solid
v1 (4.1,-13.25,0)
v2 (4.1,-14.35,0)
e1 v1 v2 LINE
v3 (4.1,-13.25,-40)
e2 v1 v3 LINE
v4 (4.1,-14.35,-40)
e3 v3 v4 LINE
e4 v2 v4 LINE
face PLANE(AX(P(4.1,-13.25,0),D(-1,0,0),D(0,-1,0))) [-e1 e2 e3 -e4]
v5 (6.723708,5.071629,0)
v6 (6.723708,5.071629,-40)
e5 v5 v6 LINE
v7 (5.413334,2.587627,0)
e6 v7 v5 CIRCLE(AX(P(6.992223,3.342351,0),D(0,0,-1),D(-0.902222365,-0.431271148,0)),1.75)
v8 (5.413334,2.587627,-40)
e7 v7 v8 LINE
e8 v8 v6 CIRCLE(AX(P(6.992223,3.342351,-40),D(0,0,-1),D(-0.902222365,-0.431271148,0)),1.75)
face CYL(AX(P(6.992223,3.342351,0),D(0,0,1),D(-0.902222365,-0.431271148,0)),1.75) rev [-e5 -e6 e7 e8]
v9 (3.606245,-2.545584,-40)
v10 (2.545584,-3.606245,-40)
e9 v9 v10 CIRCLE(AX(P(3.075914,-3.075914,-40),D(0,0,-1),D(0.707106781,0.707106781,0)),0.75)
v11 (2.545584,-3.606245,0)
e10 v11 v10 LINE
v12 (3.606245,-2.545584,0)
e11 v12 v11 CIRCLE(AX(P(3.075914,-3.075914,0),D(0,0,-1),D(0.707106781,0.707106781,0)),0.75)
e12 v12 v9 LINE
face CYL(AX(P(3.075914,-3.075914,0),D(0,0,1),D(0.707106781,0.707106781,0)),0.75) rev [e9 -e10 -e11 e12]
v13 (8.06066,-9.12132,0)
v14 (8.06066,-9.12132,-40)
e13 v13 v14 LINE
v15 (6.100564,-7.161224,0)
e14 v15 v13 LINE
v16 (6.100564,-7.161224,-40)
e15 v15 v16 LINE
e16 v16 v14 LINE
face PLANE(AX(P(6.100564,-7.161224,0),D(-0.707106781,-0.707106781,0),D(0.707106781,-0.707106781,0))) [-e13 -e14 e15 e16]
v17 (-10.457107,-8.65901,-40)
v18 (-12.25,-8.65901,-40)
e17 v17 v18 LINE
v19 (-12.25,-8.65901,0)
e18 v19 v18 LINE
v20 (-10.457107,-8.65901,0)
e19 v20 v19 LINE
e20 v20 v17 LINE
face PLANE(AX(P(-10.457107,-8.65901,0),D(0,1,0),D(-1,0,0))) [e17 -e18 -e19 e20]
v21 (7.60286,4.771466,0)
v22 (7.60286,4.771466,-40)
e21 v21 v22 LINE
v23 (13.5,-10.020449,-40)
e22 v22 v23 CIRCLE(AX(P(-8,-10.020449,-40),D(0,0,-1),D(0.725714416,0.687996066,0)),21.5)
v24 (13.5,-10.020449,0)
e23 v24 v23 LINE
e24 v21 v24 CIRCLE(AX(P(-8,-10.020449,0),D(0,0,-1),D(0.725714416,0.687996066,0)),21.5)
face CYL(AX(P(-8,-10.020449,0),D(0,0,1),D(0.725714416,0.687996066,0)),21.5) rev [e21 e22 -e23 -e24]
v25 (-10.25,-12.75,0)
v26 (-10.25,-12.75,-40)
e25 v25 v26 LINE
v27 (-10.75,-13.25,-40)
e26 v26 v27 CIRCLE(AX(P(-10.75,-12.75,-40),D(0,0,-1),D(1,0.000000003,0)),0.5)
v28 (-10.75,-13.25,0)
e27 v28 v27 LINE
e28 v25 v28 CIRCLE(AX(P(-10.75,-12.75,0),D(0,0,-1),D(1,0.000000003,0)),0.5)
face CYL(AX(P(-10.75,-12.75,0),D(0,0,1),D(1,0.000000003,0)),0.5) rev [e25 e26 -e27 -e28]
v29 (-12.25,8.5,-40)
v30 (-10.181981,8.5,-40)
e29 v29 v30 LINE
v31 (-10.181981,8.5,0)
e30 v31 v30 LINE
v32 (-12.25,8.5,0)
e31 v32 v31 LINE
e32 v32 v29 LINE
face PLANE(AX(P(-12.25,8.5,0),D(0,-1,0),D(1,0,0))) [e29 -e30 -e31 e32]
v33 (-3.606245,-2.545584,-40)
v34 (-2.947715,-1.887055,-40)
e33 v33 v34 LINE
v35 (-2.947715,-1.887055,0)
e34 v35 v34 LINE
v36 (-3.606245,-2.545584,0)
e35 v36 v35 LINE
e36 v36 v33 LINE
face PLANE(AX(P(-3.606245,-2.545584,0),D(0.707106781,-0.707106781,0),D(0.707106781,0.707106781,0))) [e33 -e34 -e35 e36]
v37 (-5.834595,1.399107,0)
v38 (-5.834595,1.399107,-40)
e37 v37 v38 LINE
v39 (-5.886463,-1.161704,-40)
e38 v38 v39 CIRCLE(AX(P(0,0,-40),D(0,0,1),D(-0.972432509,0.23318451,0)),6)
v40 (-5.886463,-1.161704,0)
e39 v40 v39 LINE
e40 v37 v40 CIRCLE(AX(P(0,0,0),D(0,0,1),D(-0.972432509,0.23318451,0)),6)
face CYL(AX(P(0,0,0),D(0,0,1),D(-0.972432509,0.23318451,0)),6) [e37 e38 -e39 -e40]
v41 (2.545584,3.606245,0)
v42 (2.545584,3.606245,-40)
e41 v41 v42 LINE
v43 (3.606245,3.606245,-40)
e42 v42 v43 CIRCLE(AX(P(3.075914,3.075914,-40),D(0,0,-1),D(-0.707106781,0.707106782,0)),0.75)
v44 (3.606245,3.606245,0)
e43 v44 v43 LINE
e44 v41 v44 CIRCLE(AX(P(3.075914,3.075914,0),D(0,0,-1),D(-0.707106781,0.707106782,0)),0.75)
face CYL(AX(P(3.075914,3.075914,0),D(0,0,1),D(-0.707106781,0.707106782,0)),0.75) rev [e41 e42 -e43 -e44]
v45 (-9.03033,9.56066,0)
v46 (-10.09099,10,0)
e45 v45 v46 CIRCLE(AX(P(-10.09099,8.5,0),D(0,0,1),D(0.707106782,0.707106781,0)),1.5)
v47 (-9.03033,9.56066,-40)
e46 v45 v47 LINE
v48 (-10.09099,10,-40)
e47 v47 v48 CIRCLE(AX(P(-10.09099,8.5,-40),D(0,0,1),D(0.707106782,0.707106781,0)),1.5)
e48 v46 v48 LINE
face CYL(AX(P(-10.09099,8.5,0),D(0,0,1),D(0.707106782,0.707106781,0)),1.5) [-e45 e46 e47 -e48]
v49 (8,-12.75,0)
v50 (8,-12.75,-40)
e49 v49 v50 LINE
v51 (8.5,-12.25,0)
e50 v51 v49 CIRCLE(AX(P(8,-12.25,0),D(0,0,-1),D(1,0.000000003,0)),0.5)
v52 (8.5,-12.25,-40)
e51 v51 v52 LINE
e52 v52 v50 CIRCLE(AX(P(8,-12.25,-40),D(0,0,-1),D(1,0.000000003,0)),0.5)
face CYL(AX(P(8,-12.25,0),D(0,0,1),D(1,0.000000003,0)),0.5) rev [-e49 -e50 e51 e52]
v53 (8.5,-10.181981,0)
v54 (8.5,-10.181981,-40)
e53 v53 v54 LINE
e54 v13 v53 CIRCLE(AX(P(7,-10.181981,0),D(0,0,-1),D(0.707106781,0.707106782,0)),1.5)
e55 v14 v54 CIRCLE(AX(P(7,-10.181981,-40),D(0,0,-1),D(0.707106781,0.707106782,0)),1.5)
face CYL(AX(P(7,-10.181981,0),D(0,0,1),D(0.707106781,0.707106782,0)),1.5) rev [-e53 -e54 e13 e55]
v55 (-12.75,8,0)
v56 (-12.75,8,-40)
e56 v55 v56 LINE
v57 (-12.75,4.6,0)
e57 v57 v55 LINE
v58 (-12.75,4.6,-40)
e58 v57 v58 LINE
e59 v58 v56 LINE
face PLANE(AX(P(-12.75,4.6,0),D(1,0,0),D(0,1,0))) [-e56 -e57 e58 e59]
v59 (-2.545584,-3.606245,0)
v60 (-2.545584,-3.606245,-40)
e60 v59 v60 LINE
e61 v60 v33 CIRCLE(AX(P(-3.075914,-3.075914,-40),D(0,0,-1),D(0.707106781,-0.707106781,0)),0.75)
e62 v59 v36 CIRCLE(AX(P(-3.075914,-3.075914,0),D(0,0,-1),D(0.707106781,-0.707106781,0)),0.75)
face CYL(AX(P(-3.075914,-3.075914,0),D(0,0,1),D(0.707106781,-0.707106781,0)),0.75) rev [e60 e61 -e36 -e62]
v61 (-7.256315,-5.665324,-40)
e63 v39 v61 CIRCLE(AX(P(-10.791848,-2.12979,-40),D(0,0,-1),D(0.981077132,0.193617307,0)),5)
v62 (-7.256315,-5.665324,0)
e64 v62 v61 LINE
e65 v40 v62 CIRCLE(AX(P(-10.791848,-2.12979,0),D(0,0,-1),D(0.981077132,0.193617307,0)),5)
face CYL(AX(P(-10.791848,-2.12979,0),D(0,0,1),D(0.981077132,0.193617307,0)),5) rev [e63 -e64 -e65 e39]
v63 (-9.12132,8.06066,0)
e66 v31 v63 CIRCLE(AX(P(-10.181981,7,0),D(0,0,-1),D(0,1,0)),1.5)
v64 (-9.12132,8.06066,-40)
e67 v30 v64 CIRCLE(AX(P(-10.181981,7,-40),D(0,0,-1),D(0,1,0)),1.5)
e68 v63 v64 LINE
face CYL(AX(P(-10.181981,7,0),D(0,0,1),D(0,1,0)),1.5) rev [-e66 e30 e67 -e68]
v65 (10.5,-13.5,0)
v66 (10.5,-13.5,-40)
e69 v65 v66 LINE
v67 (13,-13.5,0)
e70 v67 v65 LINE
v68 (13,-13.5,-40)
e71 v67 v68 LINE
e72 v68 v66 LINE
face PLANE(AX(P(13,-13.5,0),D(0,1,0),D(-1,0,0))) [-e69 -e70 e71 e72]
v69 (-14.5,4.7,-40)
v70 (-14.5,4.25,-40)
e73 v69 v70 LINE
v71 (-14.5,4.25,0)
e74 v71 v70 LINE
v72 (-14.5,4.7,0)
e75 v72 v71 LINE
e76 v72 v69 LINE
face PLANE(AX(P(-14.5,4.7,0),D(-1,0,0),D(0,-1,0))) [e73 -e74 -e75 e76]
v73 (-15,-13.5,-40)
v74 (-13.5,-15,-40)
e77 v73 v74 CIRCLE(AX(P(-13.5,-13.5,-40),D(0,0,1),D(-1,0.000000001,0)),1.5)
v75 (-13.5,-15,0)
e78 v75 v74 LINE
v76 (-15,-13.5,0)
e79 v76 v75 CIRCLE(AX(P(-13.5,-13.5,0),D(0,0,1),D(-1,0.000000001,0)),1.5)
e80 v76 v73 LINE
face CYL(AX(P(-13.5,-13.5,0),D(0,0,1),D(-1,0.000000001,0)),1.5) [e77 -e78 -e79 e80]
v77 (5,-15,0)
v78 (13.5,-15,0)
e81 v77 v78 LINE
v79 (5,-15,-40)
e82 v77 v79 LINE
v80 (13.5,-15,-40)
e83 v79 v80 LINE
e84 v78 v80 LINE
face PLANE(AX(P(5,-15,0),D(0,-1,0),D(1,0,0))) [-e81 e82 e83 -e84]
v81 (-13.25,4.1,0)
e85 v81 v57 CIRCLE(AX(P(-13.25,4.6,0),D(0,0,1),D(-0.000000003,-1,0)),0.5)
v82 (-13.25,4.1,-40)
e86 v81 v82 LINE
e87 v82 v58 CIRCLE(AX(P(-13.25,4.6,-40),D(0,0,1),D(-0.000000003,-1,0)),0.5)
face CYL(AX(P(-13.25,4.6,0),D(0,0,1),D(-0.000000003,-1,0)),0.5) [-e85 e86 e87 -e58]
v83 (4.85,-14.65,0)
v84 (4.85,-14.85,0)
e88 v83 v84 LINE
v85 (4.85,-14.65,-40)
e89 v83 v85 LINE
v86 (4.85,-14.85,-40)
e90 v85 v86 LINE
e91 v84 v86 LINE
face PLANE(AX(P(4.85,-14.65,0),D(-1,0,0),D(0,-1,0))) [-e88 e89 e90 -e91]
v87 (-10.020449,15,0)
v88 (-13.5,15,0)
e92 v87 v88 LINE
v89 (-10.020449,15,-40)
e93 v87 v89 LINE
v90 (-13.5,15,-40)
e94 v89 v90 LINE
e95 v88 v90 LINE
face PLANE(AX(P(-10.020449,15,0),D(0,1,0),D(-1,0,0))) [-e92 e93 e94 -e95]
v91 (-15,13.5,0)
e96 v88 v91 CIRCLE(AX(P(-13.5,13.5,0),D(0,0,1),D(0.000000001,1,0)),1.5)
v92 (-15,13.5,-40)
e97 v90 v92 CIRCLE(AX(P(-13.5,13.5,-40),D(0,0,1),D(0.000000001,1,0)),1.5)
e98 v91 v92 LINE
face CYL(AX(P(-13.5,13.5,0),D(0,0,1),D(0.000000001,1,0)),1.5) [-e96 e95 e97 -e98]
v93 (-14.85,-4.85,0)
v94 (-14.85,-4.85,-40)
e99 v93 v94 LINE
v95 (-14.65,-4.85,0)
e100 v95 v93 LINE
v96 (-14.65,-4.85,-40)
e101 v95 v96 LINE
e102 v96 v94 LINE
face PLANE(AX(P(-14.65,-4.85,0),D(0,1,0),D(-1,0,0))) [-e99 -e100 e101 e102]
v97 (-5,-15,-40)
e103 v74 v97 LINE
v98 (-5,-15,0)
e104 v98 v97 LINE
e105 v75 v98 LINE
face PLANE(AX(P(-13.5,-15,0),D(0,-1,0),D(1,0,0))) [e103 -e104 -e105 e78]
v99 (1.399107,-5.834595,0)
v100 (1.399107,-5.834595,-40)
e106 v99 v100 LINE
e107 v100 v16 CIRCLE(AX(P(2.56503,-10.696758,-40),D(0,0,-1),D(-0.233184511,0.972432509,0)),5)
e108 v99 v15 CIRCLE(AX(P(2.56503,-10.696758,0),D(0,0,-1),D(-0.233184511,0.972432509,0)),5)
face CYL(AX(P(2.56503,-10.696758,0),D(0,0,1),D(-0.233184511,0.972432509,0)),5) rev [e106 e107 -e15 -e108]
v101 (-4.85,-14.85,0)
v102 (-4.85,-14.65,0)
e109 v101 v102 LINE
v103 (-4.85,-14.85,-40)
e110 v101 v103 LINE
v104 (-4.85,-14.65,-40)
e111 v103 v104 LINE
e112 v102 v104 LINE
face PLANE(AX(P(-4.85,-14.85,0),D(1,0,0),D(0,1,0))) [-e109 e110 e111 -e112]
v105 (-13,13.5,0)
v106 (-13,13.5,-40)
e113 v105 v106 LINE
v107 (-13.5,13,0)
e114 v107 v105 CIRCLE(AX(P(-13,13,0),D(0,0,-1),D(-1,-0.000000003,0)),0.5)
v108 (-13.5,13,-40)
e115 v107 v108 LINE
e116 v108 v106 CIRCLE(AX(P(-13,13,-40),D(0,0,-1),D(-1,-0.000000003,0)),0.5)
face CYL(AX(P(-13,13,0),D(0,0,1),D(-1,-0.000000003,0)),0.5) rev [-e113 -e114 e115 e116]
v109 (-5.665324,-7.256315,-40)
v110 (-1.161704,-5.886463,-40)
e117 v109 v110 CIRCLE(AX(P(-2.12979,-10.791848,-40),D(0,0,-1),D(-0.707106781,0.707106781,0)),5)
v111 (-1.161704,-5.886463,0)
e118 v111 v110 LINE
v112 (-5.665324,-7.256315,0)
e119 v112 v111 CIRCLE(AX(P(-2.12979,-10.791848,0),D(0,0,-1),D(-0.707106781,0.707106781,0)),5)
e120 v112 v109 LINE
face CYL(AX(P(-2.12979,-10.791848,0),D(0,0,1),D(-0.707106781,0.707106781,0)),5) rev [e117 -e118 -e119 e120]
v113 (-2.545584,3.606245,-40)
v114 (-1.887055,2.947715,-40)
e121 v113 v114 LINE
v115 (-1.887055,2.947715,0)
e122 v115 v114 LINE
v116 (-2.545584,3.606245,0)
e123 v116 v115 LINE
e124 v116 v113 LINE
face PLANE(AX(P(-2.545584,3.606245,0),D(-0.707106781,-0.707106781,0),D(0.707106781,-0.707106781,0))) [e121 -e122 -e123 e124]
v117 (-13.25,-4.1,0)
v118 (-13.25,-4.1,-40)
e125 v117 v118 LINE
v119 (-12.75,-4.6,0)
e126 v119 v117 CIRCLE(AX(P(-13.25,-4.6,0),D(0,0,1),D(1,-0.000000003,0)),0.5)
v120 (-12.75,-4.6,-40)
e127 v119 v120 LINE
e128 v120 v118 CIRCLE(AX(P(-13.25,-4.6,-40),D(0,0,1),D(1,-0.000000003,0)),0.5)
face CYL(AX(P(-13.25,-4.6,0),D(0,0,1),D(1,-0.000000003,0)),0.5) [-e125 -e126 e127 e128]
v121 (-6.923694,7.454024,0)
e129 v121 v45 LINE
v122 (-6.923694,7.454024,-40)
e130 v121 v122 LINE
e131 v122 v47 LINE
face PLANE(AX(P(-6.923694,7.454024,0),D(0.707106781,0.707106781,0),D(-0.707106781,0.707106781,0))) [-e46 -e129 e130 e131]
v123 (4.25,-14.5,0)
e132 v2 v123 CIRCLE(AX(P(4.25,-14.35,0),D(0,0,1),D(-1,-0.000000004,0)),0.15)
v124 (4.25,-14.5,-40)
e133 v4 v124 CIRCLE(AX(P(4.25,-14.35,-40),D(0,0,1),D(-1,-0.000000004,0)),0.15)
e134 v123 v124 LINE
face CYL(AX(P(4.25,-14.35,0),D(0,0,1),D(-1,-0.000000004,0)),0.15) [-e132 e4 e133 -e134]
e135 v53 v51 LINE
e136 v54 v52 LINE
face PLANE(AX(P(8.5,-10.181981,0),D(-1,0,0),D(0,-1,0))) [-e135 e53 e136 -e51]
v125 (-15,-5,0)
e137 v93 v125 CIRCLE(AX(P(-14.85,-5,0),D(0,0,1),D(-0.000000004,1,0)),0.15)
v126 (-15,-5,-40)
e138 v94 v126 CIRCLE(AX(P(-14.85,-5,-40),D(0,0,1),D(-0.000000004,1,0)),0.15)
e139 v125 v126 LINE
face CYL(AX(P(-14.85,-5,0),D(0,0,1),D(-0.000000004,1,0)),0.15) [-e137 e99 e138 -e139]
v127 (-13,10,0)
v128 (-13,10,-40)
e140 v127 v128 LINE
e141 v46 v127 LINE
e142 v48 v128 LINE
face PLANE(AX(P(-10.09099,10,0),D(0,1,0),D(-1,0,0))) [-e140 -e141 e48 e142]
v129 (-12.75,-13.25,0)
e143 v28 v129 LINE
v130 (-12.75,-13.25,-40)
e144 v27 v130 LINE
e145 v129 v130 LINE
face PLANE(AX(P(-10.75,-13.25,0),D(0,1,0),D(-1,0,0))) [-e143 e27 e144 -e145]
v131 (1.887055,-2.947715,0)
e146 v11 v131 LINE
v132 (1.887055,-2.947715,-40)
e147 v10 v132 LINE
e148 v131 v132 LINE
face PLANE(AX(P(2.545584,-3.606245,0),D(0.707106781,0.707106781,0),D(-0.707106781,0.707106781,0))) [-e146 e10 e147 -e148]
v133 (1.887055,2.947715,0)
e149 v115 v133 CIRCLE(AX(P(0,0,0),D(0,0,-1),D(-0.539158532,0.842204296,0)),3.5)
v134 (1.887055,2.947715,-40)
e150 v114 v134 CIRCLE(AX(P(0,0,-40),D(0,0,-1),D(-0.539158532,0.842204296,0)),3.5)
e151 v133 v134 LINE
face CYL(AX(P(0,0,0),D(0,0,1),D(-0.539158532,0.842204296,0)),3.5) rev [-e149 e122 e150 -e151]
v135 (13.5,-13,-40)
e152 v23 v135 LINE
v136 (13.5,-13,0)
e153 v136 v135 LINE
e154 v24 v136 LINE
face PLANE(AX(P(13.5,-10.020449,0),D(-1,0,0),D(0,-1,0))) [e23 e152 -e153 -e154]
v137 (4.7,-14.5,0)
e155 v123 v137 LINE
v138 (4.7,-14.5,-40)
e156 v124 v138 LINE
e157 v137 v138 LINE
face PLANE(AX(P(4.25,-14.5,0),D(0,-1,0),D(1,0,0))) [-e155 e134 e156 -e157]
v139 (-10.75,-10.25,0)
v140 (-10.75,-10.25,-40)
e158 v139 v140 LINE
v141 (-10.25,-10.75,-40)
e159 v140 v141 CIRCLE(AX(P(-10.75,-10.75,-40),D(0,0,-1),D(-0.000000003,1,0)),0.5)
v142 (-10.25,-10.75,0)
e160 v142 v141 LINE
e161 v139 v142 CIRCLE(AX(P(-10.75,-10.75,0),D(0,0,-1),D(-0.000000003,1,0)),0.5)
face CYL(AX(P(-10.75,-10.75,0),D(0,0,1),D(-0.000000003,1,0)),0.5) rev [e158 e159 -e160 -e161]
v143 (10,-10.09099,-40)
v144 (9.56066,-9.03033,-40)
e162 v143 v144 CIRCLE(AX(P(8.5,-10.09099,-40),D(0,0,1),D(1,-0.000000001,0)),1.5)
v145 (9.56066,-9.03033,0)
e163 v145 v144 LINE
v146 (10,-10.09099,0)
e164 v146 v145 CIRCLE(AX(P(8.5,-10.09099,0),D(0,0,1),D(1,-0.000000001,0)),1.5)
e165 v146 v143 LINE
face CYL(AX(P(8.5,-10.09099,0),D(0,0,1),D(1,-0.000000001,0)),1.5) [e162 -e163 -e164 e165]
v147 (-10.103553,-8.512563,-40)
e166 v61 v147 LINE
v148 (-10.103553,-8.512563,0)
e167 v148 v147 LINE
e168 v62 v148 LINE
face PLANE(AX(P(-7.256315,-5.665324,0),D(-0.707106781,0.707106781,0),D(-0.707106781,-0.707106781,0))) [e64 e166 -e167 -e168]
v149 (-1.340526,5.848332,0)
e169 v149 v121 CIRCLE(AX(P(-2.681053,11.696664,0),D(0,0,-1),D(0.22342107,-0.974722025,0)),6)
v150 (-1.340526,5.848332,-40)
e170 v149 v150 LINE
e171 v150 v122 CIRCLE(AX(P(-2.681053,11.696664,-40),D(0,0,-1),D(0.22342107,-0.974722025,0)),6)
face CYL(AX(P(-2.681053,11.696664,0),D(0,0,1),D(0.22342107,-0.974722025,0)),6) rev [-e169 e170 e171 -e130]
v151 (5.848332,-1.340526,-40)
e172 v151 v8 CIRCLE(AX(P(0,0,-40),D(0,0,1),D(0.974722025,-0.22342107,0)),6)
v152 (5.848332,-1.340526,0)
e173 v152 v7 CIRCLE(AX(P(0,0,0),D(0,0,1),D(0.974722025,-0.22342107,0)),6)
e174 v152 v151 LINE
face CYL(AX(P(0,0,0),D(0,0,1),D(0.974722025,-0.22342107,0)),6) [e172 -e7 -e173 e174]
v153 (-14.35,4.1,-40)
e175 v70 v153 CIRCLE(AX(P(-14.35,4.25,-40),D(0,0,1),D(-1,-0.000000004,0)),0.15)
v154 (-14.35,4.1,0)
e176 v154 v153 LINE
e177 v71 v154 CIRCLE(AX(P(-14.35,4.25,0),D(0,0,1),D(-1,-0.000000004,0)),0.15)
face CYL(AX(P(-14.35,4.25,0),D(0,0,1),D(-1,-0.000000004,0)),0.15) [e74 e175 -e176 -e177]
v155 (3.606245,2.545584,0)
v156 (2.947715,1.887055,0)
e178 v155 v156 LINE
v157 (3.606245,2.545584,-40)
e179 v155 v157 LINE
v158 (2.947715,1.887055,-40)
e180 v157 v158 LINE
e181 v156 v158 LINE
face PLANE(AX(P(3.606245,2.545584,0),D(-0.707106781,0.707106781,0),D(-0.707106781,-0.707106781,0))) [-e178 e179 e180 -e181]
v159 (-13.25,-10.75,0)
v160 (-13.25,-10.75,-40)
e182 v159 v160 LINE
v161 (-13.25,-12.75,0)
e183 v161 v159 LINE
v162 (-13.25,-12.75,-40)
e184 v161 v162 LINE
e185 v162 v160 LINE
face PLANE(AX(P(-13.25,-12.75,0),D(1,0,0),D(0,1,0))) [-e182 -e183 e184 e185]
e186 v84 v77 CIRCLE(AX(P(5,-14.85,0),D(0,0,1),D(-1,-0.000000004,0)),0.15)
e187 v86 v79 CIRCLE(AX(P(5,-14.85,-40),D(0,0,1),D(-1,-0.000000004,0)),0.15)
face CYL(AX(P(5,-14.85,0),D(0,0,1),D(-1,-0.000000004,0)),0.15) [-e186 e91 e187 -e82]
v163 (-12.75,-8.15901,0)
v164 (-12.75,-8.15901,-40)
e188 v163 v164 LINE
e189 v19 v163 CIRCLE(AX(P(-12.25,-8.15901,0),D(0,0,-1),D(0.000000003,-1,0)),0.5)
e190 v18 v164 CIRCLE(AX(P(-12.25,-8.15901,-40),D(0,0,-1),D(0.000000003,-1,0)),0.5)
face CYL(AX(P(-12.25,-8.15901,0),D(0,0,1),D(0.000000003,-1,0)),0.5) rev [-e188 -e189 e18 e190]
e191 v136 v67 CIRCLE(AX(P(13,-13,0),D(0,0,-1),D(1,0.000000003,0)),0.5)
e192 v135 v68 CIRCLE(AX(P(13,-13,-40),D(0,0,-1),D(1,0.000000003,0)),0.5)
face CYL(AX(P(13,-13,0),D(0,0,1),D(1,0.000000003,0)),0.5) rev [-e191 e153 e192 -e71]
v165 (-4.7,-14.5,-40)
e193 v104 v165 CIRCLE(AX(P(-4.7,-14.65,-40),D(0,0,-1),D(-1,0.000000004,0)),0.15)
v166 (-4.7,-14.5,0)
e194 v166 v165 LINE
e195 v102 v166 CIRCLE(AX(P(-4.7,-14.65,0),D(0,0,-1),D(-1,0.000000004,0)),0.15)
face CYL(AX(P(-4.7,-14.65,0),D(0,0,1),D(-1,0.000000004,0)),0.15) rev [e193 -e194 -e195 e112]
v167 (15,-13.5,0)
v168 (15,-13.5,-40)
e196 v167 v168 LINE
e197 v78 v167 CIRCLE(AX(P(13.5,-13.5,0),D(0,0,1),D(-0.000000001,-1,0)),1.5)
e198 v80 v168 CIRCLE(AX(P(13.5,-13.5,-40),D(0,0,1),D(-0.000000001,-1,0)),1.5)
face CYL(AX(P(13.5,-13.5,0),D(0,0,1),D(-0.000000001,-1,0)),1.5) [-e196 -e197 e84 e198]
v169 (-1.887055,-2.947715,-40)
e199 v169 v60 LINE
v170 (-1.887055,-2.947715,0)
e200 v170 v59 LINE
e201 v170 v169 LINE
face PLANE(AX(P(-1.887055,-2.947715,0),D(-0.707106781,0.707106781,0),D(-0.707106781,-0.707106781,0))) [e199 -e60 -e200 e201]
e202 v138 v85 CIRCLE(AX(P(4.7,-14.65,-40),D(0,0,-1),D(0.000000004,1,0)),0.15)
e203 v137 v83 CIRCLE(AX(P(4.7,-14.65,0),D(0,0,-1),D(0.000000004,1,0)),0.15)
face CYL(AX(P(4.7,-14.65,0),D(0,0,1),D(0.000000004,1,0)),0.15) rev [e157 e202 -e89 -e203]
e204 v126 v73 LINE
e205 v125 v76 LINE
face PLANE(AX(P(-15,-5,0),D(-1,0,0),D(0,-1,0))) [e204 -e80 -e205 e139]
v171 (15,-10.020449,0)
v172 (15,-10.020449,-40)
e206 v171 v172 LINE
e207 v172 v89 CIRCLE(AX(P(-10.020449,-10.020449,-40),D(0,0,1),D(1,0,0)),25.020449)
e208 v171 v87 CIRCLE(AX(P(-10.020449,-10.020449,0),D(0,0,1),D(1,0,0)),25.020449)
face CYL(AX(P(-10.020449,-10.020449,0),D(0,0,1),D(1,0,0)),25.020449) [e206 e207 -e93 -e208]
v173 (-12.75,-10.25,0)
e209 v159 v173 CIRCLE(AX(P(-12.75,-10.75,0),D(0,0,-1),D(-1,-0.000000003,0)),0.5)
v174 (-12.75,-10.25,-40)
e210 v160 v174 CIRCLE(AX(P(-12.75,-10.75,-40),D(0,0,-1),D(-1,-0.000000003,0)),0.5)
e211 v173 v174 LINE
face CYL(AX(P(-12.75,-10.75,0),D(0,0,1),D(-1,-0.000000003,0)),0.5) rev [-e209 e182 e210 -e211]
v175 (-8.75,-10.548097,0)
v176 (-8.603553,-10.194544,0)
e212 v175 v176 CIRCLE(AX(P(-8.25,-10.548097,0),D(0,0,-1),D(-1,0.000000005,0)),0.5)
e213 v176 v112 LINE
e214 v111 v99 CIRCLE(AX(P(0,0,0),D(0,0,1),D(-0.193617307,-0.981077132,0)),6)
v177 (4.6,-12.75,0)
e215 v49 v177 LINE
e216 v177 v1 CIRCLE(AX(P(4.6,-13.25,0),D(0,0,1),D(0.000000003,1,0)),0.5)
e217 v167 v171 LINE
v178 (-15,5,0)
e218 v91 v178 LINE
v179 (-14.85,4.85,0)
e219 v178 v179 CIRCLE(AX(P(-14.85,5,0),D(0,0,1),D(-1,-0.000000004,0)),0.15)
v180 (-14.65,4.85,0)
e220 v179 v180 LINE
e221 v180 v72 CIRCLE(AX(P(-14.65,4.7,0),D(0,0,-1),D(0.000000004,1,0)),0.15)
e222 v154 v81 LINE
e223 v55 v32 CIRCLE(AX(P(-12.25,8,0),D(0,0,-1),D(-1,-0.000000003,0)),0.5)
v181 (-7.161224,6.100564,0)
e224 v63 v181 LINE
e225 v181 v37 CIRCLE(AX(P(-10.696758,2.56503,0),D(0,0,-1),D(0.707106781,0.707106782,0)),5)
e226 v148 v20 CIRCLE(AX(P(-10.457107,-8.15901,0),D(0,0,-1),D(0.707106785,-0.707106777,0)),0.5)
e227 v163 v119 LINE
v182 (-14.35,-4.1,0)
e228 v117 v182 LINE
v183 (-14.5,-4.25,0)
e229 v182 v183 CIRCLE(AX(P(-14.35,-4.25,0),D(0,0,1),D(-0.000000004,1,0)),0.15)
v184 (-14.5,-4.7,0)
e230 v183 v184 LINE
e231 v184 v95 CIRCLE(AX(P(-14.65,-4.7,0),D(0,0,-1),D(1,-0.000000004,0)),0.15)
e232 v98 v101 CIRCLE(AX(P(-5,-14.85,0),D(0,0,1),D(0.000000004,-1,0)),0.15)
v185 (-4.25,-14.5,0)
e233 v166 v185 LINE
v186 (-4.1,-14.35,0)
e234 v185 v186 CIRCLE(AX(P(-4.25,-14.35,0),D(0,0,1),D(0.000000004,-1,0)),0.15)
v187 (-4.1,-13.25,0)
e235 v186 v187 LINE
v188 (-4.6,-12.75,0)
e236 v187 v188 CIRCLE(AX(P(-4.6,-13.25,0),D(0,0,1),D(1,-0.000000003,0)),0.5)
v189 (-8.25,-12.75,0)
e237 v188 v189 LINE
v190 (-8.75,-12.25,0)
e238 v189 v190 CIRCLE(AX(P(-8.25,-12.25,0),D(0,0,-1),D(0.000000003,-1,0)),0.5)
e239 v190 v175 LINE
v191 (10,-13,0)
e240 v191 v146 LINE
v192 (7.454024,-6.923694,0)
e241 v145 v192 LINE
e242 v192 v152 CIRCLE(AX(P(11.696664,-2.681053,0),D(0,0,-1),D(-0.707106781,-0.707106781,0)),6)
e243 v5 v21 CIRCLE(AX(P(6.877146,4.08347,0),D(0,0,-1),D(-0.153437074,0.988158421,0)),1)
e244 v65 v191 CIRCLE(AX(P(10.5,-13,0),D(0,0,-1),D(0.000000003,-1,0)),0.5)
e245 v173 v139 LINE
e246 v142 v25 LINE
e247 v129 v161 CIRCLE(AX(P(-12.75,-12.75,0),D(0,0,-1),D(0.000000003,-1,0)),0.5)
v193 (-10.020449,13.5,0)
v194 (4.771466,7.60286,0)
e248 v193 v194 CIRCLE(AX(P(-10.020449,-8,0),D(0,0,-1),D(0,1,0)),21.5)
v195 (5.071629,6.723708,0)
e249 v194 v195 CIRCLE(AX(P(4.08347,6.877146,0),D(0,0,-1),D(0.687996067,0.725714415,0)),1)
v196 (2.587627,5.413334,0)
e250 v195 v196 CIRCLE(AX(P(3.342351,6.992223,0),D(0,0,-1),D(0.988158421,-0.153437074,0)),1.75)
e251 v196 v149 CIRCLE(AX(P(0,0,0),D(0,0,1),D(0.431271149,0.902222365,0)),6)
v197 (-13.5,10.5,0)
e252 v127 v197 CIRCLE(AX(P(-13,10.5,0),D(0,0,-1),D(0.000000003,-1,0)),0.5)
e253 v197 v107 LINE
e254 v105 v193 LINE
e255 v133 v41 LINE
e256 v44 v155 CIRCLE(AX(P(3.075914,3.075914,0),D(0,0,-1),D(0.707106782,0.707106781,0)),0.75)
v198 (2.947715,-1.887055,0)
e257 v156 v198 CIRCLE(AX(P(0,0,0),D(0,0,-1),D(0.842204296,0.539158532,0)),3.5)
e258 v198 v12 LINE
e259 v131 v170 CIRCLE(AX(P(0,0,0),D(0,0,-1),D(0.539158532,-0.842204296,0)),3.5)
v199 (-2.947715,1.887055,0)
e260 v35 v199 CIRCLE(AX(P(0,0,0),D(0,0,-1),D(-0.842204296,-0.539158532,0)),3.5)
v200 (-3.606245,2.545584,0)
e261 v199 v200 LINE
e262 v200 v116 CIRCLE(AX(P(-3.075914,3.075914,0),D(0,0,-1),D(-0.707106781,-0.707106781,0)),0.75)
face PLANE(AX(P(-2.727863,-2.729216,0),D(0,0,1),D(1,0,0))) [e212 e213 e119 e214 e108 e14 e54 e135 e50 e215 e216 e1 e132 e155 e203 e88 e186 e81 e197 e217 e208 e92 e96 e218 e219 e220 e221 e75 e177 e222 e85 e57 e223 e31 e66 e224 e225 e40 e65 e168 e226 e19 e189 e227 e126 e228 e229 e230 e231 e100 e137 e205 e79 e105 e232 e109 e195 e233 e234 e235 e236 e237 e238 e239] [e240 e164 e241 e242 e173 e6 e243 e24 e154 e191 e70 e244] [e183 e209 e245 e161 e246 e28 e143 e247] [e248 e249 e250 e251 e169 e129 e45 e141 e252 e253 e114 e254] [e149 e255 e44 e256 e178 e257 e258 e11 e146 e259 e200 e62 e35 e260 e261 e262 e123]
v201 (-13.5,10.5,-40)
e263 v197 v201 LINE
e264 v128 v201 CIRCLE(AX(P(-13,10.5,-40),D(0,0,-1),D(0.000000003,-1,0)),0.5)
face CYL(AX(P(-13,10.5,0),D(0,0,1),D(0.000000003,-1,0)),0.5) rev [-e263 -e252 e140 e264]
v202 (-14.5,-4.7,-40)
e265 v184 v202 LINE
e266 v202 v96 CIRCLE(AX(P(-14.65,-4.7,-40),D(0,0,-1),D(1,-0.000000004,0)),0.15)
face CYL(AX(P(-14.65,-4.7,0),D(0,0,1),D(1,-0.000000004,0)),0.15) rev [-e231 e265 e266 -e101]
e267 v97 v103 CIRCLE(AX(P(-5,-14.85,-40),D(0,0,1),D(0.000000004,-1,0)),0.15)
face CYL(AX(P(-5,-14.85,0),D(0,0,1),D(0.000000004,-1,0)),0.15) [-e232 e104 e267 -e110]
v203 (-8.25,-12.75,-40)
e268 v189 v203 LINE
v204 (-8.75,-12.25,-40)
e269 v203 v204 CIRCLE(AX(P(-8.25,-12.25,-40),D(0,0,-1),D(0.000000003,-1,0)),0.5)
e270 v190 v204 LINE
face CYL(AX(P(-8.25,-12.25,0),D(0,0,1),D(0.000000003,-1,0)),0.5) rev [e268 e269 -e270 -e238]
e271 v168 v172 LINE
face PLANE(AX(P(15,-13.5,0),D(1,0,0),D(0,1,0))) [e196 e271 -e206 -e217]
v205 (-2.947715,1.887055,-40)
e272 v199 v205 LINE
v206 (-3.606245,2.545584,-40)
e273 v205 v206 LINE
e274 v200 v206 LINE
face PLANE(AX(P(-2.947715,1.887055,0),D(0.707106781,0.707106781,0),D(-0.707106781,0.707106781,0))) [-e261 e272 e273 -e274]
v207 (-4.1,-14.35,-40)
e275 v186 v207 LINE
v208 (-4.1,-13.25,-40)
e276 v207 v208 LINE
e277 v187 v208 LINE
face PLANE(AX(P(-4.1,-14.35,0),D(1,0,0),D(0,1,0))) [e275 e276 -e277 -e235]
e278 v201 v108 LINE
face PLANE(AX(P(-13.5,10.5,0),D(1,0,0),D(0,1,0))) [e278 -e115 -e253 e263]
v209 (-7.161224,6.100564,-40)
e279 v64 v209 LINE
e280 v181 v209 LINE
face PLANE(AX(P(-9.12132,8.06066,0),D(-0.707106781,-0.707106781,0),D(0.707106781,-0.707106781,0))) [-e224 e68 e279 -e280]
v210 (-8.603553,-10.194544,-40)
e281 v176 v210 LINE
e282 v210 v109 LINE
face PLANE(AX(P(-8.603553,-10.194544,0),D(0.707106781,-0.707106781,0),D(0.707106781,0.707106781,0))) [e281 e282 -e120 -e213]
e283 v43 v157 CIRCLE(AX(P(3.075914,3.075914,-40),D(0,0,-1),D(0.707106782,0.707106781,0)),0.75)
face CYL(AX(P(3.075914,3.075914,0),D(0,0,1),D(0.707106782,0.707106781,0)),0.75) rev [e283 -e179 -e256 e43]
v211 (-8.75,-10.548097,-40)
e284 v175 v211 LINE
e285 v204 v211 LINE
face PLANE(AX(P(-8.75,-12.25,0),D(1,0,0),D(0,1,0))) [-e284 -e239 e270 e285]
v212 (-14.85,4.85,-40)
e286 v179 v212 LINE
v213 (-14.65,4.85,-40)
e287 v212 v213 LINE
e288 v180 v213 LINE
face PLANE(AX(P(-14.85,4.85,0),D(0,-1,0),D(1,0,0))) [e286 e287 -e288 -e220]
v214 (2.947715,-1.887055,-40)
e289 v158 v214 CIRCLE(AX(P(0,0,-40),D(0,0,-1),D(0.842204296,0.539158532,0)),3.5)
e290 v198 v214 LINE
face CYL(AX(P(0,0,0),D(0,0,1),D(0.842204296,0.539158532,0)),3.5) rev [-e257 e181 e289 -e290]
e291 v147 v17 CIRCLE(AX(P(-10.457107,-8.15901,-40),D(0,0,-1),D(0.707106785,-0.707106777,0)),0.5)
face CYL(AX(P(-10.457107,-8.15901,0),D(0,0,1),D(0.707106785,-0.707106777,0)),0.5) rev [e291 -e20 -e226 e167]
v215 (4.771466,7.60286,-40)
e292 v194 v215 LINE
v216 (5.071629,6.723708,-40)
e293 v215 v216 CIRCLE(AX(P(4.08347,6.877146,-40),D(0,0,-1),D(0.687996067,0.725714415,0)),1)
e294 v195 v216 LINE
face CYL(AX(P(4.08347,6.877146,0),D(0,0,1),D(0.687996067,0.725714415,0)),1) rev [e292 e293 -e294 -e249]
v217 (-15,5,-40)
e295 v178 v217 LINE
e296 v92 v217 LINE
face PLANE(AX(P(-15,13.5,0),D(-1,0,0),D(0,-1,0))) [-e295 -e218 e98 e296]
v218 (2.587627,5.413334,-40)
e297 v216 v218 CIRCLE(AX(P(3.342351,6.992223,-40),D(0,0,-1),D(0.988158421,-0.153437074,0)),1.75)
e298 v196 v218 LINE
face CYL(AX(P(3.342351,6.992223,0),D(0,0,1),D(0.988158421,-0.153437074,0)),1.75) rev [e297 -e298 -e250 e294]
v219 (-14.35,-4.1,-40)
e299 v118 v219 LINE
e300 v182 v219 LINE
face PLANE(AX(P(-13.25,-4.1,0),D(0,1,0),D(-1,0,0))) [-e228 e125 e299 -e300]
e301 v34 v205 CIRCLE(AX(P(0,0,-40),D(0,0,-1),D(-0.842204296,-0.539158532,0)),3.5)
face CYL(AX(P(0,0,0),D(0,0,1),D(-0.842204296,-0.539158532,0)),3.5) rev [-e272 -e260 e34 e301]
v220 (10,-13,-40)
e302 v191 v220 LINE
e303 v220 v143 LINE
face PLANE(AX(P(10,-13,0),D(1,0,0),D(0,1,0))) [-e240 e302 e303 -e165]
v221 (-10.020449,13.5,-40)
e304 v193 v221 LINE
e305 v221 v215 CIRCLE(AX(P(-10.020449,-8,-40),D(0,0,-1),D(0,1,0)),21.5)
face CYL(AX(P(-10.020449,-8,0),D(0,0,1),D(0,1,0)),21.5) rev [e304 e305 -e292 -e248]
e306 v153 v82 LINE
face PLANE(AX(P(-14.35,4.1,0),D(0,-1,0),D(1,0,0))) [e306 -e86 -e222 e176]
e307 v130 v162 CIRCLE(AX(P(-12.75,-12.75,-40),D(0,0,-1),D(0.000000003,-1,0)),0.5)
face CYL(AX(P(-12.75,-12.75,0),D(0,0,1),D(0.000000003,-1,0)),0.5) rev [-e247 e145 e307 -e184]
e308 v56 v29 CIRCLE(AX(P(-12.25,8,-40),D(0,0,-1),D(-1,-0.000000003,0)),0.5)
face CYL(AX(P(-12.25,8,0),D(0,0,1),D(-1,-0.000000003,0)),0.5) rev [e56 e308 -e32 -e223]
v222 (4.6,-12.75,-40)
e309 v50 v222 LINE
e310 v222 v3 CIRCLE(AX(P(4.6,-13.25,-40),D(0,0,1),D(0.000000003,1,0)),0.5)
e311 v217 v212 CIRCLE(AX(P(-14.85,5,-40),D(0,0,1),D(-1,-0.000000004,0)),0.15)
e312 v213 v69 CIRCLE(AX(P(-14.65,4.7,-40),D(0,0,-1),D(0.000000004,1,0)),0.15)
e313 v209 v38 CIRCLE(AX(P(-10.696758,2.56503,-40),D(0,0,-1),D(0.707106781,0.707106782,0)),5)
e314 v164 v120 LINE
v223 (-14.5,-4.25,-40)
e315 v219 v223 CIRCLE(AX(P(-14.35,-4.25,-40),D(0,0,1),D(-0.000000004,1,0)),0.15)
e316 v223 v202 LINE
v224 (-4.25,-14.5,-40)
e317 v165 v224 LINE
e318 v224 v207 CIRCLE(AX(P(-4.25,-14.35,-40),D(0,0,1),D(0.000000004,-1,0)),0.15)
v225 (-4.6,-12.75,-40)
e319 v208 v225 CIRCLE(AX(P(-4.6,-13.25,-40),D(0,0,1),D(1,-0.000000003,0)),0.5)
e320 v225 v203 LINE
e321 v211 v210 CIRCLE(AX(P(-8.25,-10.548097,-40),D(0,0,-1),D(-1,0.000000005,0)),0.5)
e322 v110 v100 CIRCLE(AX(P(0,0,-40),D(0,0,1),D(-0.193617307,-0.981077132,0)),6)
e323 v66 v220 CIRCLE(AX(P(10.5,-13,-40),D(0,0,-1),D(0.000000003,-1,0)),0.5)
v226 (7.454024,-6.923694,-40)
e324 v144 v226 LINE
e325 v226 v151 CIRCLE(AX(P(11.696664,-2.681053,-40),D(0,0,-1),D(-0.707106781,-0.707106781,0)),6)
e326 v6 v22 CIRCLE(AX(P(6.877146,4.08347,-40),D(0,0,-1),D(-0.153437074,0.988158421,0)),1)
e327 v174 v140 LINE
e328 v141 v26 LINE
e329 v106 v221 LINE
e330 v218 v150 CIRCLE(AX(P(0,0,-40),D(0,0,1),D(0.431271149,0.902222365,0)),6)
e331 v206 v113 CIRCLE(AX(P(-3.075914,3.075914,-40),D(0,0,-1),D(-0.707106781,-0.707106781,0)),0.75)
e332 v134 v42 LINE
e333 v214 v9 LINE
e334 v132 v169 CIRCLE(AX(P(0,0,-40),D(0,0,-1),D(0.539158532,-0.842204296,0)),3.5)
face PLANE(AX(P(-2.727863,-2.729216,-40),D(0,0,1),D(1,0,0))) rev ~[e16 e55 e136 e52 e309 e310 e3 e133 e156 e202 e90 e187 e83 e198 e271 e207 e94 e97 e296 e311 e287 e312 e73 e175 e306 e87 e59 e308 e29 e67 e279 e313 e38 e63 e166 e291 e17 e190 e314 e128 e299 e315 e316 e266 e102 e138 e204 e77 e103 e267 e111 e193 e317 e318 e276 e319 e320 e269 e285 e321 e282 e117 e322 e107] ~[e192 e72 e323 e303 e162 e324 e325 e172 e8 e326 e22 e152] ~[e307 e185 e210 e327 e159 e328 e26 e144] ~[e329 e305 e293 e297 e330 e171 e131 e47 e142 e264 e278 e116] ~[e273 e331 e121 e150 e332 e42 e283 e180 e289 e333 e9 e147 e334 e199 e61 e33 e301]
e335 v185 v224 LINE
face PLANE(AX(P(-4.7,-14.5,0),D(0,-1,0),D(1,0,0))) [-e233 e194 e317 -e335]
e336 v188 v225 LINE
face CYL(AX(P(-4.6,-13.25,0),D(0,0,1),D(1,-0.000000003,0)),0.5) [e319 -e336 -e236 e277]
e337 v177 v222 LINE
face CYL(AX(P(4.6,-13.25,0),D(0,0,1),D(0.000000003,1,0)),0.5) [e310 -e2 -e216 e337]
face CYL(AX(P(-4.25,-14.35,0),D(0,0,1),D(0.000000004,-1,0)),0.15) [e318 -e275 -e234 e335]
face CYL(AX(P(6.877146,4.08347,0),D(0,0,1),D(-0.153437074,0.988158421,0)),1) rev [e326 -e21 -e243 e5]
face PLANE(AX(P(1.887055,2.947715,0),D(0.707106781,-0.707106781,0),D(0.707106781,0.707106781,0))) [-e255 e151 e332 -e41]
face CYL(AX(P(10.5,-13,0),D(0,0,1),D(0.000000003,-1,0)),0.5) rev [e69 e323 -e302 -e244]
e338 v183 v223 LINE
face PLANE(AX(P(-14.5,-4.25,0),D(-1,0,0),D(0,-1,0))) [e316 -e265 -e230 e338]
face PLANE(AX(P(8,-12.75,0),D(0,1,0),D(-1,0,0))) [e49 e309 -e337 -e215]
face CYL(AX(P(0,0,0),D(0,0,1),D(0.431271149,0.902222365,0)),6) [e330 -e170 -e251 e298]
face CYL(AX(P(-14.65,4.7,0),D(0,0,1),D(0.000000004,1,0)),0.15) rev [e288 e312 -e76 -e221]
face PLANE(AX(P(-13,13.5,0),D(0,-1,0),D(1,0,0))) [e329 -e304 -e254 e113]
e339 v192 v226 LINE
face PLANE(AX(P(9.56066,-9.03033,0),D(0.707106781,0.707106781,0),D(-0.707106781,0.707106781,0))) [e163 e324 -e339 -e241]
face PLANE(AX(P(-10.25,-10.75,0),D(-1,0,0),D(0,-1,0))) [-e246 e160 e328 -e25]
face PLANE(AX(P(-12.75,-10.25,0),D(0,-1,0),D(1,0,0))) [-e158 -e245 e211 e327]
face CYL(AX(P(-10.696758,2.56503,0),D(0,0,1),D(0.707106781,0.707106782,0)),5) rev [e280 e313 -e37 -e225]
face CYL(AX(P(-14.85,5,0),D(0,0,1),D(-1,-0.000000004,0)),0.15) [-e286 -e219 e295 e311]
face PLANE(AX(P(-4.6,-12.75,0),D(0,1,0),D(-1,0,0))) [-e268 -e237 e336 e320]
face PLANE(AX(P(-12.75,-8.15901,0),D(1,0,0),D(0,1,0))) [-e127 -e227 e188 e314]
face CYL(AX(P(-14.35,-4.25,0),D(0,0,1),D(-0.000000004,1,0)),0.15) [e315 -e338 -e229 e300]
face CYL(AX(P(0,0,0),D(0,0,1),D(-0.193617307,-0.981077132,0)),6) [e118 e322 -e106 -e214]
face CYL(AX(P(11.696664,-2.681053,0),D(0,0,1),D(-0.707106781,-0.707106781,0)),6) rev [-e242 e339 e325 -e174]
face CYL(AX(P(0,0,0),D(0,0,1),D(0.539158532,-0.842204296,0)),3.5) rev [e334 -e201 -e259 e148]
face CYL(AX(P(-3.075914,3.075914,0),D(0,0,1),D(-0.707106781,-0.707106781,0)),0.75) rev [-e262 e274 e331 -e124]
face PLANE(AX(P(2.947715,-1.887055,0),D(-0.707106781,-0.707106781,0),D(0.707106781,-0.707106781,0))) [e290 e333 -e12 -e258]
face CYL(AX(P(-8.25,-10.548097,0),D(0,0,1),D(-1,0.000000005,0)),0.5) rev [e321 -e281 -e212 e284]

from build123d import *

# Parameters (mm, degrees)
Y_KSEKLIK_EKSTR_ZYON2_DEPTH = 40


with BuildPart() as part:
    # Çizim1 → Yükseklik-Ekstrüzyon2 (new body)
    with BuildSketch(Plane.XY):
        with BuildLine():
            ThreePointArc((-12.75, -4.6), (-12.896446609, -4.246446609), (-13.25, -4.1))
            Line((-13.25, -4.1), (-14.35, -4.1))
            ThreePointArc((-14.35, -4.1), (-14.456066017, -4.143933983), (-14.5, -4.25))
            Line((-14.5, -4.25), (-14.5, -4.7))
            ThreePointArc((-14.5, -4.7), (-14.543933983, -4.806066017), (-14.65, -4.85))
            Line((-14.65, -4.85), (-14.85, -4.85))
            ThreePointArc((-14.85, -4.85), (-14.956066017, -4.893933983), (-15, -5))
            Line((-15, -5), (-15, -13.5))
            ThreePointArc((-15, -13.5), (-14.560660172, -14.560660172), (-13.5, -15))
            Line((-13.5, -15), (-5, -15))
            ThreePointArc((-5, -15), (-4.893933983, -14.956066017), (-4.85, -14.85))
            Line((-4.85, -14.85), (-4.85, -14.65))
            ThreePointArc((-4.85, -14.65), (-4.806066017, -14.543933983), (-4.7, -14.5))
            Line((-4.7, -14.5), (-4.25, -14.5))
            ThreePointArc((-4.25, -14.5), (-4.143933983, -14.456066017), (-4.1, -14.35))
            Line((-4.1, -14.35), (-4.1, -13.25))
            ThreePointArc((-4.1, -13.25), (-4.246446609, -12.896446609), (-4.6, -12.75))
            Line((-4.6, -12.75), (-8.25, -12.75))
            ThreePointArc((-8.25, -12.75), (-8.603553391, -12.603553391), (-8.75, -12.25))
            Line((-8.75, -12.25), (-8.75, -10.548097039))
            ThreePointArc((-8.75, -10.548097039), (-8.711939766, -10.356755323), (-8.603553391, -10.194543648))
            Line((-8.603553391, -10.194543648), (-5.665324285, -7.256314543))
            ThreePointArc((-5.665324285, -7.256314543), (-3.584805828, -6.008237883), (-1.161703843, -5.88646279))
            ThreePointArc((-1.161703843, -5.88646279), (0.121501595, -5.998769654), (1.399107062, -5.834595053))
            ThreePointArc((1.399107062, -5.834595053), (3.922877314, -5.884663497), (6.100563519, -7.161223691))
            Line((6.100563519, -7.161223691), (8.060660172, -9.121320344))
            ThreePointArc((8.060660172, -9.121320344), (8.385819299, -9.607955367), (8.5, -10.181980515))
            Line((8.5, -10.181980515), (8.5, -12.25))
            ThreePointArc((8.5, -12.25), (8.353553391, -12.603553391), (8, -12.75))
            Line((8, -12.75), (4.6, -12.75))
            ThreePointArc((4.6, -12.75), (4.246446609, -12.896446609), (4.1, -13.25))
            Line((4.1, -13.25), (4.1, -14.35))
            ThreePointArc((4.1, -14.35), (4.143933983, -14.456066017), (4.25, -14.5))
            Line((4.25, -14.5), (4.7, -14.5))
            ThreePointArc((4.7, -14.5), (4.806066017, -14.543933983), (4.85, -14.65))
            Line((4.85, -14.65), (4.85, -14.85))
            ThreePointArc((4.85, -14.85), (4.893933983, -14.956066017), (5, -15))
            Line((5, -15), (13.5, -15))
            ThreePointArc((13.5, -15), (14.560660172, -14.560660172), (15, -13.5))
            Line((15, -13.5), (15, -10.020449132))
            ThreePointArc((15, -10.020449132), (7.671680118, 7.671680118), (-10.020449132, 15))
            Line((-10.020449132, 15), (-13.5, 15))
            ThreePointArc((-13.5, 15), (-14.560660172, 14.560660172), (-15, 13.5))
            Line((-15, 13.5), (-15, 5))
            ThreePointArc((-15, 5), (-14.956066017, 4.893933983), (-14.85, 4.85))
            Line((-14.85, 4.85), (-14.65, 4.85))
            ThreePointArc((-14.65, 4.85), (-14.543933983, 4.806066017), (-14.5, 4.7))
            Line((-14.5, 4.7), (-14.5, 4.25))
            ThreePointArc((-14.5, 4.25), (-14.456066017, 4.143933983), (-14.35, 4.1))
            Line((-14.35, 4.1), (-13.25, 4.1))
            ThreePointArc((-13.25, 4.1), (-12.896446609, 4.246446609), (-12.75, 4.6))
            Line((-12.75, 4.6), (-12.75, 8))
            ThreePointArc((-12.75, 8), (-12.603553391, 8.353553391), (-12.25, 8.5))
            Line((-12.25, 8.5), (-10.181980515, 8.5))
            ThreePointArc((-10.181980515, 8.5), (-9.607955367, 8.385819299), (-9.121320344, 8.060660172))
            Line((-9.121320344, 8.060660172), (-7.161223691, 6.100563519))
            ThreePointArc((-7.161223691, 6.100563519), (-5.884663497, 3.922877314), (-5.834595053, 1.399107062))
            ThreePointArc((-5.834595053, 1.399107062), (-5.998769654, 0.121501595), (-5.88646279, -1.161703843))
            ThreePointArc((-5.88646279, -1.161703843), (-6.008237883, -3.584805828), (-7.256314543, -5.665324285))
            Line((-7.256314543, -5.665324285), (-10.103553391, -8.512563133))
            ThreePointArc((-10.103553391, -8.512563133), (-10.265765065, -8.620949509), (-10.457106781, -8.659009742))
            Line((-10.457106781, -8.659009742), (-12.25, -8.659009742))
            ThreePointArc((-12.25, -8.659009742), (-12.603553391, -8.512563133), (-12.75, -8.159009742))
            Line((-12.75, -8.159009742), (-12.75, -4.6))
        make_face()
        with BuildLine():
            ThreePointArc((2.587626892, 5.413334191), (0.660394354, 5.963545866), (-1.340526419, 5.848332149))
            ThreePointArc((-1.340526419, 5.848332149), (-4.339403848, 5.930394105), (-6.923693524, 7.45402361))
            Line((-6.923693524, 7.45402361), (-9.030330086, 9.560660172))
            ThreePointArc((-9.030330086, 9.560660172), (-9.516965109, 9.885819299), (-10.090990258, 10))
            Line((-10.090990258, 10), (-13, 10))
            ThreePointArc((-13, 10), (-13.353553391, 10.146446609), (-13.5, 10.5))
            Line((-13.5, 10.5), (-13.5, 13))
            ThreePointArc((-13.5, 13), (-13.353553391, 13.353553391), (-13, 13.5))
            Line((-13, 13.5), (-10.020449132, 13.5))
            ThreePointArc((-10.020449132, 13.5), (-2.058398163, 11.971373122), (4.771466284, 7.602859941))
            ThreePointArc((4.771466284, 7.602859941), (5.02983183, 7.200254947), (5.071628638, 6.723708451))
            ThreePointArc((5.071628638, 6.723708451), (4.158873557, 5.444388853), (2.587626892, 5.413334191))
        make_face(mode=Mode.SUBTRACT)
        with BuildLine():
            ThreePointArc((5.848332149, -1.340526419), (5.963545866, 0.660394354), (5.413334191, 2.587626892))
            ThreePointArc((5.413334191, 2.587626892), (5.444388853, 4.158873557), (6.723708451, 5.071628638))
            ThreePointArc((6.723708451, 5.071628638), (7.200254947, 5.02983183), (7.602859941, 4.771466284))
            ThreePointArc((7.602859941, 4.771466284), (11.971373122, -2.058398163), (13.5, -10.020449132))
            Line((13.5, -10.020449132), (13.5, -13))
            ThreePointArc((13.5, -13), (13.353553391, -13.353553391), (13, -13.5))
            Line((13, -13.5), (10.5, -13.5))
            ThreePointArc((10.5, -13.5), (10.146446609, -13.353553391), (10, -13))
            Line((10, -13), (10, -10.090990258))
            ThreePointArc((10, -10.090990258), (9.885819299, -9.516965109), (9.560660172, -9.030330086))
            Line((9.560660172, -9.030330086), (7.45402361, -6.923693524))
            ThreePointArc((7.45402361, -6.923693524), (5.930394105, -4.339403848), (5.848332149, -1.340526419))
        make_face(mode=Mode.SUBTRACT)
        with BuildLine():
            Line((-13.25, -12.75), (-13.25, -10.75))
            ThreePointArc((-13.25, -10.75), (-13.103553391, -10.396446609), (-12.75, -10.25))
            Line((-12.75, -10.25), (-10.75, -10.25))
            ThreePointArc((-10.75, -10.25), (-10.396446609, -10.396446609), (-10.25, -10.75))
            Line((-10.25, -10.75), (-10.25, -12.75))
            ThreePointArc((-10.25, -12.75), (-10.396446609, -13.103553391), (-10.75, -13.25))
            Line((-10.75, -13.25), (-12.75, -13.25))
            ThreePointArc((-12.75, -13.25), (-13.103553391, -13.103553391), (-13.25, -12.75))
        make_face(mode=Mode.SUBTRACT)
        with BuildLine():
            ThreePointArc((2.545584412, 3.606244584), (3.075914498, 3.825914498), (3.606244584, 3.606244584))
            ThreePointArc((3.606244584, 3.606244584), (3.825914498, 3.075914498), (3.606244584, 2.545584412))
            Line((3.606244584, 2.545584412), (2.947715037, 1.887054865))
            ThreePointArc((2.947715037, 1.887054865), (3.5, 0), (2.947715037, -1.887054865))
            Line((2.947715037, -1.887054865), (3.606244584, -2.545584412))
            ThreePointArc((3.606244584, -2.545584412), (3.606244584, -3.606244584), (2.545584412, -3.606244584))
            Line((2.545584412, -3.606244584), (1.887054865, -2.947715037))
            ThreePointArc((1.887054865, -2.947715037), (0, -3.5), (-1.887054865, -2.947715037))
            Line((-1.887054865, -2.947715037), (-2.545584412, -3.606244584))
            ThreePointArc((-2.545584412, -3.606244584), (-3.606244584, -3.606244584), (-3.606244584, -2.545584412))
            Line((-3.606244584, -2.545584412), (-2.947715037, -1.887054865))
            ThreePointArc((-2.947715037, -1.887054865), (-3.5, 0), (-2.947715037, 1.887054865))
            Line((-2.947715037, 1.887054865), (-3.606244584, 2.545584412))
            ThreePointArc((-3.606244584, 2.545584412), (-3.606244584, 3.606244584), (-2.545584412, 3.606244584))
            Line((-2.545584412, 3.606244584), (-1.887054865, 2.947715037))
            ThreePointArc((-1.887054865, 2.947715037), (0, 3.5), (1.887054865, 2.947715037))
            Line((1.887054865, 2.947715037), (2.545584412, 3.606244584))
        make_face(mode=Mode.SUBTRACT)
    extrude(amount=-Y_KSEKLIK_EKSTR_ZYON2_DEPTH)


solid = part.part
